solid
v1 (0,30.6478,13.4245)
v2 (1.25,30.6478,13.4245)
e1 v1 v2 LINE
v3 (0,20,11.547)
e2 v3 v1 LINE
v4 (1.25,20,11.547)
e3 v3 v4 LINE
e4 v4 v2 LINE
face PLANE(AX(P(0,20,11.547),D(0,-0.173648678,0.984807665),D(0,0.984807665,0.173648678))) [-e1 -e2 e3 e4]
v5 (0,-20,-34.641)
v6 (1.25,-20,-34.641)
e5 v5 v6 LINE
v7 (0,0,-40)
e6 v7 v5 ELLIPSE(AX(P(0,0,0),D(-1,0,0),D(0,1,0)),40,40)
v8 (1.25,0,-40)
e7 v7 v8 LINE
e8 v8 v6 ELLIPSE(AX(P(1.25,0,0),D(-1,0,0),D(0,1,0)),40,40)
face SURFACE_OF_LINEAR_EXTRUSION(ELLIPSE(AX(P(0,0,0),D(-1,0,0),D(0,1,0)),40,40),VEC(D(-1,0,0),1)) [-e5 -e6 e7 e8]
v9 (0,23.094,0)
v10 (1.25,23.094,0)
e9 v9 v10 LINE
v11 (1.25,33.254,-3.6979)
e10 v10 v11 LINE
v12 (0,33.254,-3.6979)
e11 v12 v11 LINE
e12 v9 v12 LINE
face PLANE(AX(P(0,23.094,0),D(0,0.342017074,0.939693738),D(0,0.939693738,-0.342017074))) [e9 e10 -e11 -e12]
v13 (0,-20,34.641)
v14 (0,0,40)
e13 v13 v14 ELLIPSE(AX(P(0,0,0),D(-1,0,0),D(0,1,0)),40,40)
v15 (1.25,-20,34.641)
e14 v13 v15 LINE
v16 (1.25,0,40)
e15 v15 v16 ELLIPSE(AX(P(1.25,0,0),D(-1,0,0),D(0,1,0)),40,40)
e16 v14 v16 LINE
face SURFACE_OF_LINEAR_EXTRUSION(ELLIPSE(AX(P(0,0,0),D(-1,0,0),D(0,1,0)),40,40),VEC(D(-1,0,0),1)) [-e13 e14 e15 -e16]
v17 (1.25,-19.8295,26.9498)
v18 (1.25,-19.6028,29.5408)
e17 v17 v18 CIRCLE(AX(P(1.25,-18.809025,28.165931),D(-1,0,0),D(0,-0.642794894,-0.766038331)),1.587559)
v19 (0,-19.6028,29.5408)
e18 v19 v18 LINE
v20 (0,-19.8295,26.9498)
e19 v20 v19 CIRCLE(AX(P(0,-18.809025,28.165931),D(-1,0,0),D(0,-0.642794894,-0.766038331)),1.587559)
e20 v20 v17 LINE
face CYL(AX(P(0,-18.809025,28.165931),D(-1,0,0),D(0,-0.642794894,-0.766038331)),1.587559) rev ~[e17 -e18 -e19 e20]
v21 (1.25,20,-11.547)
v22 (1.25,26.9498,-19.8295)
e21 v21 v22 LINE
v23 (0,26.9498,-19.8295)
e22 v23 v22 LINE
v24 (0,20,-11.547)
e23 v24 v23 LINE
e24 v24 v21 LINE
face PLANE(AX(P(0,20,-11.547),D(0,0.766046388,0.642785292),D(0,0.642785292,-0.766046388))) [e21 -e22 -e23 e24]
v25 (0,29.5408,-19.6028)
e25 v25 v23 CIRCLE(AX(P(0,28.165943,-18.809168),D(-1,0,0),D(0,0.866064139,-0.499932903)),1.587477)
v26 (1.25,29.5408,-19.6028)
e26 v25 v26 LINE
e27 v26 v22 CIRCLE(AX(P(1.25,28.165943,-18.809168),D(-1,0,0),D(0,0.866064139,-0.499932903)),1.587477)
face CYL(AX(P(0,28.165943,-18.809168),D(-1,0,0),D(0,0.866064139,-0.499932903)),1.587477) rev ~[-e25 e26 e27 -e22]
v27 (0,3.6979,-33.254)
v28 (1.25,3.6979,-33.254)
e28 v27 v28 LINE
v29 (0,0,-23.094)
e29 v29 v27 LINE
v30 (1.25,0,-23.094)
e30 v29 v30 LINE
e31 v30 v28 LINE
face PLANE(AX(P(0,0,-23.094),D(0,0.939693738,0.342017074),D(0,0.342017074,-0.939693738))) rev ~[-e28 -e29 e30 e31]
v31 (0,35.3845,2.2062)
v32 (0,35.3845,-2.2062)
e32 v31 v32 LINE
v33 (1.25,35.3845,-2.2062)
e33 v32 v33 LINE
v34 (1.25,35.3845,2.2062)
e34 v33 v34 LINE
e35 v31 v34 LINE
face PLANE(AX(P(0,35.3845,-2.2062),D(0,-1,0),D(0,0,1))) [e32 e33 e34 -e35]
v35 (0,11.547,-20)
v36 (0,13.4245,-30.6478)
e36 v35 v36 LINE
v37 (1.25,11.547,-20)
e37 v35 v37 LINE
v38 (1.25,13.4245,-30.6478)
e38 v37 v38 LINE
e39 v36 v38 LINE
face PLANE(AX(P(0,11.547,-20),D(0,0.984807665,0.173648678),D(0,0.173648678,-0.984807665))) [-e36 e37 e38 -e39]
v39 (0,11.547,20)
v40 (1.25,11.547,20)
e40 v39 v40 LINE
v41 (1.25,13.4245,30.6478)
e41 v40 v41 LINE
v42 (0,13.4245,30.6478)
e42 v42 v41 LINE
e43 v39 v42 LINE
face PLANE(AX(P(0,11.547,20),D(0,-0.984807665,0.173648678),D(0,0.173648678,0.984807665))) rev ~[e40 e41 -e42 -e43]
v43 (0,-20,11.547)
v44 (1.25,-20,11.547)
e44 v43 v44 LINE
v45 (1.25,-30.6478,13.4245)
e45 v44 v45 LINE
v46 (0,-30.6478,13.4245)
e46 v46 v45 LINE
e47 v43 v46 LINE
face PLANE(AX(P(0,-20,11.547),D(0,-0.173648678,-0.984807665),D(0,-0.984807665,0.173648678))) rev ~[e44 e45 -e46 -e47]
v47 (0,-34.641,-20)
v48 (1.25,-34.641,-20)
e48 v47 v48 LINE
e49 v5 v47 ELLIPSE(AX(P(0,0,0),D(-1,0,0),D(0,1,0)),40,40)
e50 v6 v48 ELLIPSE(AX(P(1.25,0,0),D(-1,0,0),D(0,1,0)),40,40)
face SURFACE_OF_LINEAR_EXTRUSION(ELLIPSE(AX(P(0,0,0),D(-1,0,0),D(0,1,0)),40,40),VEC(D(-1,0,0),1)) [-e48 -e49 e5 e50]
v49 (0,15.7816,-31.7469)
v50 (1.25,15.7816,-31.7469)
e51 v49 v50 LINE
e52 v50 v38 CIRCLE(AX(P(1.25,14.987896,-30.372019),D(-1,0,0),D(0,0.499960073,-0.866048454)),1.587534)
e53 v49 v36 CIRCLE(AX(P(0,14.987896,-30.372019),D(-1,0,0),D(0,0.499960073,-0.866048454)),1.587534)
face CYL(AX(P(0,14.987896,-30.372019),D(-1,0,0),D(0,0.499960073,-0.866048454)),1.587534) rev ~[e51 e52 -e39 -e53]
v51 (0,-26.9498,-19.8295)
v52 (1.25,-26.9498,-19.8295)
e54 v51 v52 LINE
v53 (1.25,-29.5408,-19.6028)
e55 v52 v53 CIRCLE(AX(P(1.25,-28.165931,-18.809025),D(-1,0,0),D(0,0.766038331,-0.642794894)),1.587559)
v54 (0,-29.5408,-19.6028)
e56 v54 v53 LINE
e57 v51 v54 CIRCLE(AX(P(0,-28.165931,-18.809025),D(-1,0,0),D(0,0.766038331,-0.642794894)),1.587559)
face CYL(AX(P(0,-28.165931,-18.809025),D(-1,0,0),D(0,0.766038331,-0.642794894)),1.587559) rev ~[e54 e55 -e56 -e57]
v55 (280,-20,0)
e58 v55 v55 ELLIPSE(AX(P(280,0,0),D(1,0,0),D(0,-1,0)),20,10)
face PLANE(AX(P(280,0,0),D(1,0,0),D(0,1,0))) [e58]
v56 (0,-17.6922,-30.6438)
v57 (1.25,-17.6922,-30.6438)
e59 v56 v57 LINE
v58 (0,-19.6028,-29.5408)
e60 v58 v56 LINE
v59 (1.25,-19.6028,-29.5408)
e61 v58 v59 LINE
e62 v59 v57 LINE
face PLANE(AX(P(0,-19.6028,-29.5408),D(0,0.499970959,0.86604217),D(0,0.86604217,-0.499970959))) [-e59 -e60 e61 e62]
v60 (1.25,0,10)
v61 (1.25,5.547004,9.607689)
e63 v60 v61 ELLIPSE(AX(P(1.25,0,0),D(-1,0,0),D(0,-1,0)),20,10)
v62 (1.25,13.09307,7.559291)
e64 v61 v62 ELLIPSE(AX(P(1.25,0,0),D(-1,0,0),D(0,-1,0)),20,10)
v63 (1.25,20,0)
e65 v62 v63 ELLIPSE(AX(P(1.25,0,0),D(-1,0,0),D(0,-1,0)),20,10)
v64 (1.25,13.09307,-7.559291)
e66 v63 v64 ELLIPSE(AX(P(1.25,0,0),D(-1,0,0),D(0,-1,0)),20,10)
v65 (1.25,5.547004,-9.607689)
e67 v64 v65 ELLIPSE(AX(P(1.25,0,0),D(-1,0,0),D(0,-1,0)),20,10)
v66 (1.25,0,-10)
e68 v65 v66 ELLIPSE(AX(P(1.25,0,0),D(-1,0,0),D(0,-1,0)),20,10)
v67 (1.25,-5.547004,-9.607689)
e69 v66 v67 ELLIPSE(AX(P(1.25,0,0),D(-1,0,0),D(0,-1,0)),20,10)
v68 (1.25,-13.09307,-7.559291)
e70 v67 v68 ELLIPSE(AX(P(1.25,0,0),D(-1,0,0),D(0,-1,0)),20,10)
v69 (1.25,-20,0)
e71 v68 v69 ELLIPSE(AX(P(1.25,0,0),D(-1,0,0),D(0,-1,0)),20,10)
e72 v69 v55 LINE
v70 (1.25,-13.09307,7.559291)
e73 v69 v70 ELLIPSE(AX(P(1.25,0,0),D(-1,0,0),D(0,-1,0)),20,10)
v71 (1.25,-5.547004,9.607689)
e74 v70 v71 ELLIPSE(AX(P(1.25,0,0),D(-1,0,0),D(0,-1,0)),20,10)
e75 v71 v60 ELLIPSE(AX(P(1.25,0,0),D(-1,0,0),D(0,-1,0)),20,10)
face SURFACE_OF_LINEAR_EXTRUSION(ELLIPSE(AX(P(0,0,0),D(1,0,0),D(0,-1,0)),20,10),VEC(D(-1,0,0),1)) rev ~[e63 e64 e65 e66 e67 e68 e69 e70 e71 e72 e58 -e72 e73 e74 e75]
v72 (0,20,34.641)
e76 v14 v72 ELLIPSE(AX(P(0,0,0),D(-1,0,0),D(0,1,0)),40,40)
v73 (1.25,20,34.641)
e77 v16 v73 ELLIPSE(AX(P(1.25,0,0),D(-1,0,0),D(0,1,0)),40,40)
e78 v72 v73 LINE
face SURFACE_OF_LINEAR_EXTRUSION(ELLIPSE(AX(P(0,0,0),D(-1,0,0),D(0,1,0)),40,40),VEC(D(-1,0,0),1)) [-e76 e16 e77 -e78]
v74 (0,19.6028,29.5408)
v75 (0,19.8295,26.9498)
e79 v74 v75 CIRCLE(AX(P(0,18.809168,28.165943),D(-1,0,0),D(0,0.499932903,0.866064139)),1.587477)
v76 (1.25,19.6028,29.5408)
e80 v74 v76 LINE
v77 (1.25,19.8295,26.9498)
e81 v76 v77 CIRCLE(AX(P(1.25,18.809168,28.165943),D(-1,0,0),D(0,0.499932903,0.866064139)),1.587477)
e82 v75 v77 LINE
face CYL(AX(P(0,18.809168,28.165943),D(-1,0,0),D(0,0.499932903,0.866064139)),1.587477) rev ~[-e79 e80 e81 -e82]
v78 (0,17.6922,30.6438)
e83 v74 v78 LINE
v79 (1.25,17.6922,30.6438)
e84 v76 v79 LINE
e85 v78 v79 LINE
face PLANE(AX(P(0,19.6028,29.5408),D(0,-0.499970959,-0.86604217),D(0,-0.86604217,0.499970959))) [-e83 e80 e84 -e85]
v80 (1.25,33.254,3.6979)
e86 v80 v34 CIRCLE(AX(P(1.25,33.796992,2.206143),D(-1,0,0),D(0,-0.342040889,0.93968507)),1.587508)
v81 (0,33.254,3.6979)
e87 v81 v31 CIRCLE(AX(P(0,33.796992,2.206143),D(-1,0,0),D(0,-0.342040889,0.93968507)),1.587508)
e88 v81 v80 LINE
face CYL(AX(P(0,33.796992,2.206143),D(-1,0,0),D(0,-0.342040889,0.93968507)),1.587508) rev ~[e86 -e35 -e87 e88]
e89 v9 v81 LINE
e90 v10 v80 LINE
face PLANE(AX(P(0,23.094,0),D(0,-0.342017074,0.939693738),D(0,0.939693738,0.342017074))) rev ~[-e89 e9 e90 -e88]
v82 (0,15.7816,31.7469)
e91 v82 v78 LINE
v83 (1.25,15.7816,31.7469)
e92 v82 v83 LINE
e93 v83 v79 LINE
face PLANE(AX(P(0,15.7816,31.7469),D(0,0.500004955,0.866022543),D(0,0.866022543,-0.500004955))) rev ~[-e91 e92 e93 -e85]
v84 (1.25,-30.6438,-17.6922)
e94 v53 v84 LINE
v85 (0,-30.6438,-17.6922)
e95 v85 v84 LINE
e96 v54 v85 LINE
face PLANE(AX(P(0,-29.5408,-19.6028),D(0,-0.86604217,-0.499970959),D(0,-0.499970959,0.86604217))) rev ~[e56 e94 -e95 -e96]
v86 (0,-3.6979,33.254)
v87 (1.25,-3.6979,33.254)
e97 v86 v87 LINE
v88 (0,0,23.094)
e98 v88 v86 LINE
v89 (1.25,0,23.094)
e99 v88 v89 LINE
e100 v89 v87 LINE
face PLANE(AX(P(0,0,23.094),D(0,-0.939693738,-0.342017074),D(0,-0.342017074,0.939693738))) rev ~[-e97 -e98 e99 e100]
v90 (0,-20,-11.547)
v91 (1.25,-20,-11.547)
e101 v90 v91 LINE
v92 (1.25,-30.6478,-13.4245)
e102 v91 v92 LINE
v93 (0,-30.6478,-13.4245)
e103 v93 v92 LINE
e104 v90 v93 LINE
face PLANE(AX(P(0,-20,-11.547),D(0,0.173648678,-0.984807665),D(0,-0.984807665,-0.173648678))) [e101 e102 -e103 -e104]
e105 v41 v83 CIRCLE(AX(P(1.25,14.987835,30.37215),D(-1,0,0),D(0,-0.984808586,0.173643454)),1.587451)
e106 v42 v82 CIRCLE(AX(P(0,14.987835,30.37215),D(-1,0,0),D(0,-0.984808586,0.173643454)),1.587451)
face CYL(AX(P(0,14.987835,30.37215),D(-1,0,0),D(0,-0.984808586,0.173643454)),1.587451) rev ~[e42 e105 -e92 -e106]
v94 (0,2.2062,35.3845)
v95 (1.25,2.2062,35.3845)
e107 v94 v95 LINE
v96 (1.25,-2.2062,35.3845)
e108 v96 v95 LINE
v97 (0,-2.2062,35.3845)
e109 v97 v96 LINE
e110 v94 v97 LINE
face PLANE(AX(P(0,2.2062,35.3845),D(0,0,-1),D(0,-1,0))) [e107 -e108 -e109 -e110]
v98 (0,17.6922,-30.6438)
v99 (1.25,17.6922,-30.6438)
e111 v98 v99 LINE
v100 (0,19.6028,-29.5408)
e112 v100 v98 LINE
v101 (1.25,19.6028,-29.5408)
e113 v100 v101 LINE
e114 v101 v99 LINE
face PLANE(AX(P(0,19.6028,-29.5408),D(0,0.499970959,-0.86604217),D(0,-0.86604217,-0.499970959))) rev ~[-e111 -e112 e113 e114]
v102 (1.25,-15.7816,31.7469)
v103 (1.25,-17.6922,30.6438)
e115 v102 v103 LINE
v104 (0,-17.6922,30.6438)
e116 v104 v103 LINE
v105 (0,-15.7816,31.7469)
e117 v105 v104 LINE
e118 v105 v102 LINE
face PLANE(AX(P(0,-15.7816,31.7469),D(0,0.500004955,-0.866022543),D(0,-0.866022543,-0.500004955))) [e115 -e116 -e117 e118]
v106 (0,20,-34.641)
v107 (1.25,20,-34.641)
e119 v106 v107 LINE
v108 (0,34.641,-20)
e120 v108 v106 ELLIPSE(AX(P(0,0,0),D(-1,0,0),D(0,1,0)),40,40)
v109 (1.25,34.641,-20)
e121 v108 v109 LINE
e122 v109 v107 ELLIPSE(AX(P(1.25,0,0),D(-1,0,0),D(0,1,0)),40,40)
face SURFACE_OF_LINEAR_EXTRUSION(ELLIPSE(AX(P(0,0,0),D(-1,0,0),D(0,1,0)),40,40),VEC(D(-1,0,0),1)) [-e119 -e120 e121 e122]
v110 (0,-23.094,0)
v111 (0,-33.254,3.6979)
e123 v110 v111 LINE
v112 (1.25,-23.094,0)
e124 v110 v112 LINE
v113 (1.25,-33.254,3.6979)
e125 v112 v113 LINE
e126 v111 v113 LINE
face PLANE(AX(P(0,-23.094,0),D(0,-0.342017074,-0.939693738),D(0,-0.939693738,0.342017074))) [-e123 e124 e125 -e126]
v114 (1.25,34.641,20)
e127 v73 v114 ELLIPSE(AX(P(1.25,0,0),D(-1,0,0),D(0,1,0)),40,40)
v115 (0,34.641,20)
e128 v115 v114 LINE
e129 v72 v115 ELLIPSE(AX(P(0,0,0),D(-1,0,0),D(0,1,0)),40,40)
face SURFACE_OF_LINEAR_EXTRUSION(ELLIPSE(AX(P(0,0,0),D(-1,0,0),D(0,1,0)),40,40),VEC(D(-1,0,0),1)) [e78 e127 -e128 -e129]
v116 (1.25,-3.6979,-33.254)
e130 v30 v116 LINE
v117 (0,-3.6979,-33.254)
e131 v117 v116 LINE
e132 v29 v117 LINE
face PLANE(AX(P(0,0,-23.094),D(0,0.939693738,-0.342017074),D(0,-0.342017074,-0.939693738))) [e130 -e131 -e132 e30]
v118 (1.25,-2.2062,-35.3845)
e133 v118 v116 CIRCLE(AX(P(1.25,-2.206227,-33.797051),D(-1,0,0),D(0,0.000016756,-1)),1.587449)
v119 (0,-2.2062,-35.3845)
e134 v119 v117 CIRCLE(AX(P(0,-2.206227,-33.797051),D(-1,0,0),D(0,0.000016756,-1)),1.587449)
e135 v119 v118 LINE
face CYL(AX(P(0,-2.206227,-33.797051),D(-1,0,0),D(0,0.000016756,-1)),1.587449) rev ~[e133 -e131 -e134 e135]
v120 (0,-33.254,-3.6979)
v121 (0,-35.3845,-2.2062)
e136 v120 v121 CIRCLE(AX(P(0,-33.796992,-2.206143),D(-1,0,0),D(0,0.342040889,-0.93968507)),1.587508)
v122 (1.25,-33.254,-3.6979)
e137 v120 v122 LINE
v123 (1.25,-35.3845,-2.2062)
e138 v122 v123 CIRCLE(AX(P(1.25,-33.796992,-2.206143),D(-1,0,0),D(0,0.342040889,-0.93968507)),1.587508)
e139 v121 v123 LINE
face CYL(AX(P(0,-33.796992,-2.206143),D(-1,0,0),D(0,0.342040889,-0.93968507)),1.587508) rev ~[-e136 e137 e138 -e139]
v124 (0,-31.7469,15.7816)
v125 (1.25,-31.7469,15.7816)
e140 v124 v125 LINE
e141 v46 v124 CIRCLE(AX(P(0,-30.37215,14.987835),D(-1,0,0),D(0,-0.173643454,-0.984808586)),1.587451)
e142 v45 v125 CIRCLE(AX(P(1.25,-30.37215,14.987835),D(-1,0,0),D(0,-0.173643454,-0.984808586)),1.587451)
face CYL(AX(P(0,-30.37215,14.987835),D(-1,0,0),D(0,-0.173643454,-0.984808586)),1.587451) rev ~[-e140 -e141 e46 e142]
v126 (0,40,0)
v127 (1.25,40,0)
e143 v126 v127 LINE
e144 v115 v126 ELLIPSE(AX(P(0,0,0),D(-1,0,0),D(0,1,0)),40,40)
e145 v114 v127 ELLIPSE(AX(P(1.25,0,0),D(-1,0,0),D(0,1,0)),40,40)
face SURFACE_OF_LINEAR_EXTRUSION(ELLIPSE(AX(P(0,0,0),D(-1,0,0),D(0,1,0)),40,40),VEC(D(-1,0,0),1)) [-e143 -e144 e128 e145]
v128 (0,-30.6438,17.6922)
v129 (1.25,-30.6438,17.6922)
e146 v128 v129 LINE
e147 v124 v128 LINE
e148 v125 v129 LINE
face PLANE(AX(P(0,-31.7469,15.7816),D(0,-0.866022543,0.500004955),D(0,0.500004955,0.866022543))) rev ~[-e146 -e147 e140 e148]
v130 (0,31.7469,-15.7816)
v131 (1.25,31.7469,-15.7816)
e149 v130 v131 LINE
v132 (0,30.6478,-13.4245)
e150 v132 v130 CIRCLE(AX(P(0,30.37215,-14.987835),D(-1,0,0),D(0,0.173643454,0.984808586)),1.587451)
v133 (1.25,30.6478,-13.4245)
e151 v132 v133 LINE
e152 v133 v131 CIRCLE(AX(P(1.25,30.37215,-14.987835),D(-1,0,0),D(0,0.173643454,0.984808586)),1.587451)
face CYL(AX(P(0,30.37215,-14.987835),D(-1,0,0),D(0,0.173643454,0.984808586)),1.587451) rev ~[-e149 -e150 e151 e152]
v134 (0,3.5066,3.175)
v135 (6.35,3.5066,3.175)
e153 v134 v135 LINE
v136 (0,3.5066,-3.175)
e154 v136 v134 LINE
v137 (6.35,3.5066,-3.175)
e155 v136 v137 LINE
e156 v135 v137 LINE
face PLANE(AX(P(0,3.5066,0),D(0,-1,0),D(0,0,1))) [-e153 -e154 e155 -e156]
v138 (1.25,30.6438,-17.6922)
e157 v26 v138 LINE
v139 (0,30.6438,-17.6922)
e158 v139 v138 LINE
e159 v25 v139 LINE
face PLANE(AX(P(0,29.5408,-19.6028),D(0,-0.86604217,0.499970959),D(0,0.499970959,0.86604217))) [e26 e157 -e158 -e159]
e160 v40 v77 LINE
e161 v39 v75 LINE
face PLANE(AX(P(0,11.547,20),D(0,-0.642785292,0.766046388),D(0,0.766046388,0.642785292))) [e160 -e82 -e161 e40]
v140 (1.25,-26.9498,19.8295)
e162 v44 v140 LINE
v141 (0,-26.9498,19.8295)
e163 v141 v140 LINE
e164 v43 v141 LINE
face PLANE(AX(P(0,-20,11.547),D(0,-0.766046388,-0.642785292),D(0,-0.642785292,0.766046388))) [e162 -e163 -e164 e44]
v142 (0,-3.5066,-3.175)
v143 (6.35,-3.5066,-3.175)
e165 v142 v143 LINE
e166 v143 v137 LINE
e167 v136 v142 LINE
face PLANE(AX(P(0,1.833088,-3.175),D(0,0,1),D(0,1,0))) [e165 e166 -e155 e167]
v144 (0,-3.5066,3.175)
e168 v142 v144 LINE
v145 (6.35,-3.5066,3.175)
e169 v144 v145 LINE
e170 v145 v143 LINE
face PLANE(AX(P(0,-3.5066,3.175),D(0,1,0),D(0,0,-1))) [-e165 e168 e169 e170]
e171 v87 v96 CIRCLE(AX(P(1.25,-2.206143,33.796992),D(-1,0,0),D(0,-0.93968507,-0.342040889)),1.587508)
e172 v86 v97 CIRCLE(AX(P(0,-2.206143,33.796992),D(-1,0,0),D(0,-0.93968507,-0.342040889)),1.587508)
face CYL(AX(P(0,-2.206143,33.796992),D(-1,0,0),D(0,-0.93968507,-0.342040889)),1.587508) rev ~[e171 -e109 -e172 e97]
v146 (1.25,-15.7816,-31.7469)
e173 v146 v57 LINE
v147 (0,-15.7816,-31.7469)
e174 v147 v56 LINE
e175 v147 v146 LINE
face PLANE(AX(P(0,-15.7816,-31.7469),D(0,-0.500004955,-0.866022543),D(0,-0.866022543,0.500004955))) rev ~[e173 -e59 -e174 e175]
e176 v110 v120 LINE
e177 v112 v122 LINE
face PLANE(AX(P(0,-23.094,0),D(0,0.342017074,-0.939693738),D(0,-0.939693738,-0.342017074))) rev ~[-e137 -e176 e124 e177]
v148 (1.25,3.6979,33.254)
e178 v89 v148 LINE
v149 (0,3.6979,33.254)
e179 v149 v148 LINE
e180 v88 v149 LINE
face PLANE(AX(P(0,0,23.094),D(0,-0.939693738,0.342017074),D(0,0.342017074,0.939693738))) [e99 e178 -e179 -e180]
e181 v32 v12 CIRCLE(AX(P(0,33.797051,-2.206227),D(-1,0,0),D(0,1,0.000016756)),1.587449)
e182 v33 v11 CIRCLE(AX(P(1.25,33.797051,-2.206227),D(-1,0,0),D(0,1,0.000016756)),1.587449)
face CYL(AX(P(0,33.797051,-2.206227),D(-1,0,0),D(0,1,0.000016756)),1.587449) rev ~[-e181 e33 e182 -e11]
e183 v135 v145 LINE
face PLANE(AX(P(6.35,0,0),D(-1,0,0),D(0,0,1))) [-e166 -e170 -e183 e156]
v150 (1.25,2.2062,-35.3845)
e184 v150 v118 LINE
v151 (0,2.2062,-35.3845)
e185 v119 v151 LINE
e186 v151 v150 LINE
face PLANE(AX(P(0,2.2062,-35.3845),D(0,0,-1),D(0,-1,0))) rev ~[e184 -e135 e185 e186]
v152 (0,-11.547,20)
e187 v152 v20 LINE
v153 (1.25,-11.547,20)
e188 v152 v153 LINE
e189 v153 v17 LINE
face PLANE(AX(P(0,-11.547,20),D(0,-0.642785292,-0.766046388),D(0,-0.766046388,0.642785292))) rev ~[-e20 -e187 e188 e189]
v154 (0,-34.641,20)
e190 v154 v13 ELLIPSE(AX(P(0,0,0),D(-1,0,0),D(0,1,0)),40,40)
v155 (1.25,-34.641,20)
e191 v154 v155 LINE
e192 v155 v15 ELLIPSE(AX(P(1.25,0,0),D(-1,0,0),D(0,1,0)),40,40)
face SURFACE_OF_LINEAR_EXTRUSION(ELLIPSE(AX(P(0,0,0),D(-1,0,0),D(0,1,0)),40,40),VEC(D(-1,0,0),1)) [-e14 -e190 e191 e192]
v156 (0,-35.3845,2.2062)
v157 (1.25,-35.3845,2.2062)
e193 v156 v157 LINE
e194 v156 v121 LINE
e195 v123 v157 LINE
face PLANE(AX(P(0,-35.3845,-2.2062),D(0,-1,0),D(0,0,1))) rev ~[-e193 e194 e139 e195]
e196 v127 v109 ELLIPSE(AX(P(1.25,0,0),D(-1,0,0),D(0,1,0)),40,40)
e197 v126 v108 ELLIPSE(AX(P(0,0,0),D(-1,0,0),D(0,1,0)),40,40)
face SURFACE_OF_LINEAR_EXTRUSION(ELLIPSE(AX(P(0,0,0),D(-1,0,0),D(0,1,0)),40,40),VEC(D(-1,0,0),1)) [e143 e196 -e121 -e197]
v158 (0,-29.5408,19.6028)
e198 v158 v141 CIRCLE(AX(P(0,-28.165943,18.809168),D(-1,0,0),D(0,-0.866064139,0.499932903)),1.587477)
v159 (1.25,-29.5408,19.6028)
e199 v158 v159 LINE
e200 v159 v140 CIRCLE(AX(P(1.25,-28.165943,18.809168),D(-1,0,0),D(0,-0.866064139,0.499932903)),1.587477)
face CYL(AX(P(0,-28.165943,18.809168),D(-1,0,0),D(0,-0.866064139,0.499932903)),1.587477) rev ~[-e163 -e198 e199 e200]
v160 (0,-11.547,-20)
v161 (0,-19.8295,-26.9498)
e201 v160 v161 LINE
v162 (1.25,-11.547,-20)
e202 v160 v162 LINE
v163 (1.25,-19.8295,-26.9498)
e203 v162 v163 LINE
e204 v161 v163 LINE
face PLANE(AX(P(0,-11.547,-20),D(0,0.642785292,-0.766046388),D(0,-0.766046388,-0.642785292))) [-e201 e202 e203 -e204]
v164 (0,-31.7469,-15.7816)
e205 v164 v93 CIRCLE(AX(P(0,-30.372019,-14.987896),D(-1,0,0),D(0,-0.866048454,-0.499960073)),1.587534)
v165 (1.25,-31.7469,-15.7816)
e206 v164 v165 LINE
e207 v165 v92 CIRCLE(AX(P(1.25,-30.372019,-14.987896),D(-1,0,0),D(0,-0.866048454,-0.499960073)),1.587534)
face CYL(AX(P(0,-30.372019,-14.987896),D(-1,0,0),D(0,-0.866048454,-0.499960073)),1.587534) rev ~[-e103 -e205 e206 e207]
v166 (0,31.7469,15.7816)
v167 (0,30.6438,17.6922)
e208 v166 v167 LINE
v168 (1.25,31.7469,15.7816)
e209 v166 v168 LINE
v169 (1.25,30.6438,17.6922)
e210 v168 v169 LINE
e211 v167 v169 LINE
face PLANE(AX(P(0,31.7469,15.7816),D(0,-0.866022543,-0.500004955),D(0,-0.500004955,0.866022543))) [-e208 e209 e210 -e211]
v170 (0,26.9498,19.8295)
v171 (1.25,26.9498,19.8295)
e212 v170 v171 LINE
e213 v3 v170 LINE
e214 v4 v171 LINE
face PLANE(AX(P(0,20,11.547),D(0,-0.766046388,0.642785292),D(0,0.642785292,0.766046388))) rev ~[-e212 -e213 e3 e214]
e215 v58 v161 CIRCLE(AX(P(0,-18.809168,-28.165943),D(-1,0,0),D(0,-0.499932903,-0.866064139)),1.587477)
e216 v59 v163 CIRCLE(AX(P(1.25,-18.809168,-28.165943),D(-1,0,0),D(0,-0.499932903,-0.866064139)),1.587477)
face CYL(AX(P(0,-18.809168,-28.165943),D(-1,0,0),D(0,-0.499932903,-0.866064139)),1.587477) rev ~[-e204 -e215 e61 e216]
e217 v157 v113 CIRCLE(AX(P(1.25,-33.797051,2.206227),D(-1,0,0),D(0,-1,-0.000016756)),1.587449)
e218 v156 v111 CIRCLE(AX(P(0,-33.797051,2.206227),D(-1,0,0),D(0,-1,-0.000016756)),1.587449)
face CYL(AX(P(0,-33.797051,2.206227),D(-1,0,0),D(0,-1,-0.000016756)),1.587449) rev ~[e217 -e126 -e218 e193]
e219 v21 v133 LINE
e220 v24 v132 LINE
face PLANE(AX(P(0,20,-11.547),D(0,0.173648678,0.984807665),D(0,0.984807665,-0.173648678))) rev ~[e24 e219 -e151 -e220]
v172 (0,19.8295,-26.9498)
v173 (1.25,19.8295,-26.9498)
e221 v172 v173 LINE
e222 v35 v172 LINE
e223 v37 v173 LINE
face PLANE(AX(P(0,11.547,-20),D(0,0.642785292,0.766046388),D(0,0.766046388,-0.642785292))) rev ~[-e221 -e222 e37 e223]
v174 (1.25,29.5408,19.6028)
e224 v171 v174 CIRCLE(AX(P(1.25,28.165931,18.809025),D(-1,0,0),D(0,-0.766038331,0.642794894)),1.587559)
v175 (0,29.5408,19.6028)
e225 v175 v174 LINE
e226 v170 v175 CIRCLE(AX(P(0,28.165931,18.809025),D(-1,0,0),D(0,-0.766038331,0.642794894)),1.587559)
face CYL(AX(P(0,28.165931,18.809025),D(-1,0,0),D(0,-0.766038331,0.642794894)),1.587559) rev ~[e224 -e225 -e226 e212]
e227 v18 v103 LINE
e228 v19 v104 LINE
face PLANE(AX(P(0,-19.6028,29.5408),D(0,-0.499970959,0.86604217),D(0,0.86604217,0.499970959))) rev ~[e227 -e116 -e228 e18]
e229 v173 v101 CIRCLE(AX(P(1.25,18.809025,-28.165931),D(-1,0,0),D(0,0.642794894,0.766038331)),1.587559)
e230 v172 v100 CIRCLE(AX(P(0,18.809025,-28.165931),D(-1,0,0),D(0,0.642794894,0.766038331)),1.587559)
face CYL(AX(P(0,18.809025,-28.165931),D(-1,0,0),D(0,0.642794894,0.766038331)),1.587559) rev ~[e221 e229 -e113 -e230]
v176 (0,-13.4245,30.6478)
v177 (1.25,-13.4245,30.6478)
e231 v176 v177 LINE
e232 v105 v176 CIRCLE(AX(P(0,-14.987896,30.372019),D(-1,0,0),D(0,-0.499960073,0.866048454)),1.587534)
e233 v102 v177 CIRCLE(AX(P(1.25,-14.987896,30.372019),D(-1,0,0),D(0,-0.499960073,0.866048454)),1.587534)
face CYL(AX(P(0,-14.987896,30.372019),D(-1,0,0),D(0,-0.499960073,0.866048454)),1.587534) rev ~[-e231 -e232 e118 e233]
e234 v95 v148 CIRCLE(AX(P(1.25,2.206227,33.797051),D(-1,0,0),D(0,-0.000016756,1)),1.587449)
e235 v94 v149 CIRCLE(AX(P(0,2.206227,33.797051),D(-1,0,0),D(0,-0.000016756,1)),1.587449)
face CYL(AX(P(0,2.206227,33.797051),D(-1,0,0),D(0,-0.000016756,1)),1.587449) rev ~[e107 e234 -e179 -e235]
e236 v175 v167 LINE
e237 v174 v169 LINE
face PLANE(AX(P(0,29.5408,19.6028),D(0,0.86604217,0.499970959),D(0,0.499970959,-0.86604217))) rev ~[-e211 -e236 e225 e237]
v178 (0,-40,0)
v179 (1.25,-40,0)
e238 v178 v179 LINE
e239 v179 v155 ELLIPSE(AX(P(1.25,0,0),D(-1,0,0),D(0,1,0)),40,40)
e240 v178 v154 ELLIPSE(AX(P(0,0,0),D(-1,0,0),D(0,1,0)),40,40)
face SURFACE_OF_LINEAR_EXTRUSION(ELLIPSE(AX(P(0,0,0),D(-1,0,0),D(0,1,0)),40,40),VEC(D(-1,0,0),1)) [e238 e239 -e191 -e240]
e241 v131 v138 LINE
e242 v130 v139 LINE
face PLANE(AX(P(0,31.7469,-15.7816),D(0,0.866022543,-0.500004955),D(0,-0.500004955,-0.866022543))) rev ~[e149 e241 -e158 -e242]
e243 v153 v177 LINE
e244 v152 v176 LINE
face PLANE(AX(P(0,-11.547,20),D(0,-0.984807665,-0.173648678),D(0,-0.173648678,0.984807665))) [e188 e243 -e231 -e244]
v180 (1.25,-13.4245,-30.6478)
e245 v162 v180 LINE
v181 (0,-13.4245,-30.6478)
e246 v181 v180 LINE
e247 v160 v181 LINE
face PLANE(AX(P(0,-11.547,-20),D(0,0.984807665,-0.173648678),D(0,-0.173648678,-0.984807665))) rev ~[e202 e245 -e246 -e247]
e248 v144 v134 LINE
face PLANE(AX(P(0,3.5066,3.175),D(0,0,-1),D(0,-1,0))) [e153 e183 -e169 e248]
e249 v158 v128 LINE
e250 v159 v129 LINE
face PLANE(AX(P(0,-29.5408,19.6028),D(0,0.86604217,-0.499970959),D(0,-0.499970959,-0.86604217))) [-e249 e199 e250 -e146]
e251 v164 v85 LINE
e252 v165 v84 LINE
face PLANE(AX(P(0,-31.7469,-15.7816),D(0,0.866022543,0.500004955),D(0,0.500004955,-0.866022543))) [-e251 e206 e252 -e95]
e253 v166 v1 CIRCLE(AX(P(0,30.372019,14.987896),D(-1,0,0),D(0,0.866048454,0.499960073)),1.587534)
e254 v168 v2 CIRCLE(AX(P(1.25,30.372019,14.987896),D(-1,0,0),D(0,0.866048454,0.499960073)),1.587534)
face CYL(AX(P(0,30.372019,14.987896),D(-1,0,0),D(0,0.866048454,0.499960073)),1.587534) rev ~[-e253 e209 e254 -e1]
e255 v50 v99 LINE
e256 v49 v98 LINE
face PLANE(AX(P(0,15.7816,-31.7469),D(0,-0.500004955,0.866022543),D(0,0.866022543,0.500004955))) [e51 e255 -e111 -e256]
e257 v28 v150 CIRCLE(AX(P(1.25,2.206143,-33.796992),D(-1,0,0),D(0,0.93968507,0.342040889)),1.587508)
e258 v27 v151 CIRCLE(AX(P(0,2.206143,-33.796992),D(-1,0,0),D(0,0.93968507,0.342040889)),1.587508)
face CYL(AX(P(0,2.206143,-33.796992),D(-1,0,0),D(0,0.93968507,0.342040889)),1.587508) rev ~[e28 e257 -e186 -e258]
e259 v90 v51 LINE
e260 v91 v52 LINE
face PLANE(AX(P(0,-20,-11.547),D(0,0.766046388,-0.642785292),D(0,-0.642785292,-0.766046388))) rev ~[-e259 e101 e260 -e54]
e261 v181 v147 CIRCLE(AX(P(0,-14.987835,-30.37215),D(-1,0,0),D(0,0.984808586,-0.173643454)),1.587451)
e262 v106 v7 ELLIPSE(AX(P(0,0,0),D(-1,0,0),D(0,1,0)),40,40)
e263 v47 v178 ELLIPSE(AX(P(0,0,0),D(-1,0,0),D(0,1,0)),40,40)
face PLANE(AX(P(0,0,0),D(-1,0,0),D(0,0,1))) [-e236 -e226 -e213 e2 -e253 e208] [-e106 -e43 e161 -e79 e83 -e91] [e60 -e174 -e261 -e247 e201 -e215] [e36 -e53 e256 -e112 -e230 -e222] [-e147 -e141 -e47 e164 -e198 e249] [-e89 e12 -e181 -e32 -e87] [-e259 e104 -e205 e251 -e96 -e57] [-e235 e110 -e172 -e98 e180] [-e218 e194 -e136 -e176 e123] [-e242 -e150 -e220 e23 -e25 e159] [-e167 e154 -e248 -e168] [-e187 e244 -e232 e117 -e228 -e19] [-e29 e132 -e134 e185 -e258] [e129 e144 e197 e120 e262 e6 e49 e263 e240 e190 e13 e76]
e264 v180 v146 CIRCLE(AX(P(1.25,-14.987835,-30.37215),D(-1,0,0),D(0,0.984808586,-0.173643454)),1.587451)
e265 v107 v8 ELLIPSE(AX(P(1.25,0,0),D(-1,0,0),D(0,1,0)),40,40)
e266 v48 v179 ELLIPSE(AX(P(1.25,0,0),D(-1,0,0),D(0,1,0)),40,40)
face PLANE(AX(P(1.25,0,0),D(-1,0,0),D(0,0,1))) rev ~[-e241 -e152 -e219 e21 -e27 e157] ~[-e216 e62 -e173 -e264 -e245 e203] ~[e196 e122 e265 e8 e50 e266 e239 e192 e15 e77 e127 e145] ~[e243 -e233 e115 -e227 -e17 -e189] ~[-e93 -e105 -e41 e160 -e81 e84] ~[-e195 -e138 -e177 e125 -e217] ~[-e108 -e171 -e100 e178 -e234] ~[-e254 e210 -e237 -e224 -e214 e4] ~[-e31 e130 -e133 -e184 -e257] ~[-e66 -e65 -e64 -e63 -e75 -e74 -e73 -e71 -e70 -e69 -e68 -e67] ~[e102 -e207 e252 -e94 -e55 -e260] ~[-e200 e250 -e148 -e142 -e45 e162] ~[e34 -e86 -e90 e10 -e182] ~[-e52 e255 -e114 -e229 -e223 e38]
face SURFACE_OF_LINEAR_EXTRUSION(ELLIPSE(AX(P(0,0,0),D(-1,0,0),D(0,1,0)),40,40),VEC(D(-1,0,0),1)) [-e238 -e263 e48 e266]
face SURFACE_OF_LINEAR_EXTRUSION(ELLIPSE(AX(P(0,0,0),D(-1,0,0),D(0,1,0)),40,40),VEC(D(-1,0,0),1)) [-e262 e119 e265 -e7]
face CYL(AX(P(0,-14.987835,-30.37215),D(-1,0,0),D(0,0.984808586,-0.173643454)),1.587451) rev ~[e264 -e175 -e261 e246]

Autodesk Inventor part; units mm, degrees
ref_plane "YZ Plane" through (0, 0, 0) normal (1, 0, 0) x (0, 1, 0)
ref_plane "XZ Plane" through (0, 0, 0) normal (0, 1, 0) x (-1, 0, 0)
ref_plane "XY Plane" through (0, 0, 0) normal (0, 0, 1) x (1, 0, 0)
sketch "Sketch4" plane through (0, 0, 0) normal (1, 0, 0) x (0, 1, 0)
  ellipse E0 centre (0, 0) end of major axis (-20, 0) minor radius 10
  dimension "d32" = 20
  dimension "d33" = 10
extrude "Extrusion1" add sketch "Sketch4" along normal blind 280
sketch "Sketch5" plane through (0, 0, 0) normal (-1, 0, 0) x (0, 0, 1)
  ellipse E0 centre (0, 0) end of major axis (0, 40) minor radius 40
  ellipse E1 centre (0, 0) end of major axis (0, -20) minor radius 10 projected
  line L0 (0, 0) -> (0, 40)
  line L1 (0, 0) -> (-20, 34.641)
  line L2 (0, 0) -> (-34.641, 20)
  line L3 (0, 0) -> (-40, 0)
  line L4 (0, 0) -> (-34.641, -20)
  line L5 (0, 0) -> (-20, -34.641)
  line L6 (0, 0) -> (0, -40)
  line L7 (0, 0) -> (20, -34.641)
  line L8 (0, 0) -> (34.641, -20)
  line L9 (0, 0) -> (40, 0)
  line L10 (0, 0) -> (34.641, 20)
  line L11 (0, 0) -> (20, 34.641)
  line L12 (0, 23.094) -> (3.6979, 33.254)
  line L13 (2.2062, 35.3845) -> (0, 35.3845)
  arc A0 (3.6979, 33.254) -> (2.2062, 35.3845) centre (2.2062, 33.797) ccw
  line L14 (0, 23.094) -> (-3.6979, 33.254)
  line L15 (-2.2062, 35.3845) -> (0, 35.3845)
  arc A1 (-2.2062, 35.3845) -> (-3.6979, 33.254) centre (-2.2062, 33.797) ccw
  line L16 (-15.7816, 31.7469) -> (-17.6922, 30.6438)
  line L17 (-19.6028, 29.5408) -> (-17.6922, 30.6438)
  arc A2 (-19.6028, 29.5408) -> (-19.8295, 26.9498) centre (-18.8091, 28.1659) ccw
  line L18 (-11.547, 20) -> (-19.8295, 26.9498)
  line L19 (-11.547, 20) -> (-13.4245, 30.6478)
  arc A3 (-13.4245, 30.6478) -> (-15.7816, 31.7469) centre (-14.9879, 30.3721) ccw
  line L20 (-29.5408, 19.6028) -> (-30.6438, 17.6922)
  line L21 (-31.7469, 15.7816) -> (-30.6438, 17.6922)
  arc A4 (-31.7469, 15.7816) -> (-30.6478, 13.4245) centre (-30.3721, 14.9879) ccw
  line L22 (-20, 11.547) -> (-30.6478, 13.4245)
  line L23 (-20, 11.547) -> (-26.9498, 19.8295)
  arc A5 (-26.9498, 19.8295) -> (-29.5408, 19.6028) centre (-28.1659, 18.8091) ccw
  line L24 (-35.3845, 2.2062) -> (-35.3845, 0)
  line L25 (-35.3845, -2.2062) -> (-35.3845, 0)
  arc A6 (-35.3845, -2.2062) -> (-33.254, -3.6979) centre (-33.797, -2.2062) ccw
  line L26 (-23.094, 0) -> (-33.254, -3.6979)
  line L27 (-23.094, 0) -> (-33.254, 3.6979)
  arc A7 (-33.254, 3.6979) -> (-35.3845, 2.2062) centre (-33.797, 2.2062) ccw
  line L28 (-31.7469, -15.7816) -> (-30.6438, -17.6922)
  line L29 (-29.5408, -19.6028) -> (-30.6438, -17.6922)
  arc A8 (-29.5408, -19.6028) -> (-26.9498, -19.8295) centre (-28.1659, -18.8091) ccw
  line L30 (-20, -11.547) -> (-26.9498, -19.8295)
  line L31 (-20, -11.547) -> (-30.6478, -13.4245)
  arc A9 (-30.6478, -13.4245) -> (-31.7469, -15.7816) centre (-30.3721, -14.9879) ccw
  line L32 (-19.6028, -29.5408) -> (-17.6922, -30.6438)
  line L33 (-15.7816, -31.7469) -> (-17.6922, -30.6438)
  arc A10 (-15.7816, -31.7469) -> (-13.4245, -30.6478) centre (-14.9879, -30.3721) ccw
  line L34 (-11.547, -20) -> (-13.4245, -30.6478)
  line L35 (-11.547, -20) -> (-19.8295, -26.9498)
  arc A11 (-19.8295, -26.9498) -> (-19.6028, -29.5408) centre (-18.8091, -28.1659) ccw
  line L36 (-2.2062, -35.3845) -> (0, -35.3845)
  line L37 (2.2062, -35.3845) -> (0, -35.3845)
  arc A12 (2.2062, -35.3845) -> (3.6979, -33.254) centre (2.2062, -33.797) ccw
  line L38 (0, -23.094) -> (3.6979, -33.254)
  line L39 (0, -23.094) -> (-3.6979, -33.254)
  arc A13 (-3.6979, -33.254) -> (-2.2062, -35.3845) centre (-2.2062, -33.797) ccw
  line L40 (15.7816, -31.7469) -> (17.6922, -30.6438)
  line L41 (19.6028, -29.5408) -> (17.6922, -30.6438)
  arc A14 (19.6028, -29.5408) -> (19.8295, -26.9498) centre (18.8091, -28.1659) ccw
  line L42 (11.547, -20) -> (19.8295, -26.9498)
  line L43 (11.547, -20) -> (13.4245, -30.6478)
  arc A15 (13.4245, -30.6478) -> (15.7816, -31.7469) centre (14.9879, -30.3721) ccw
  line L44 (29.5408, -19.6028) -> (30.6438, -17.6922)
  line L45 (31.7469, -15.7816) -> (30.6438, -17.6922)
  arc A16 (31.7469, -15.7816) -> (30.6478, -13.4245) centre (30.3721, -14.9879) ccw
  line L46 (20, -11.547) -> (30.6478, -13.4245)
  line L47 (20, -11.547) -> (26.9498, -19.8295)
  arc A17 (26.9498, -19.8295) -> (29.5408, -19.6028) centre (28.1659, -18.8091) ccw
  line L48 (35.3845, -2.2062) -> (35.3845, 0)
  line L49 (35.3845, 2.2062) -> (35.3845, 0)
  arc A18 (35.3845, 2.2062) -> (33.254, 3.6979) centre (33.797, 2.2062) ccw
  line L50 (23.094, 0) -> (33.254, 3.6979)
  line L51 (23.094, 0) -> (33.254, -3.6979)
  arc A19 (33.254, -3.6979) -> (35.3845, -2.2062) centre (33.797, -2.2062) ccw
  line L52 (31.7469, 15.7816) -> (30.6438, 17.6922)
  line L53 (29.5408, 19.6028) -> (30.6438, 17.6922)
  arc A20 (29.5408, 19.6028) -> (26.9498, 19.8295) centre (28.1659, 18.8091) ccw
  line L54 (20, 11.547) -> (26.9498, 19.8295)
  line L55 (20, 11.547) -> (30.6478, 13.4245)
  arc A21 (30.6478, 13.4245) -> (31.7469, 15.7816) centre (30.3721, 14.9879) ccw
  line L56 (19.6028, 29.5408) -> (17.6922, 30.6438)
  line L57 (15.7816, 31.7469) -> (17.6922, 30.6438)
  arc A22 (15.7816, 31.7469) -> (13.4245, 30.6478) centre (14.9879, 30.3721) ccw
  line L58 (11.547, 20) -> (13.4245, 30.6478)
  line L59 (11.547, 20) -> (19.8295, 26.9498)
  arc A23 (19.8295, 26.9498) -> (19.6028, 29.5408) centre (18.8091, 28.1659) ccw
  line L60 (-3.175, 3.5066) -> (3.175, 3.5066)
  line L61 (3.175, 3.5066) -> (3.175, -3.5066)
  line L62 (3.175, -3.5066) -> (-3.175, -3.5066)
  line L63 (-3.175, -3.5066) -> (-3.175, 3.5066)
  line L64 (-3.175, 3.5066) -> (3.175, -3.5066) construction
  line L65 (3.175, 3.5066) -> (-3.175, -3.5066) construction
  dimension "d36" = 40
  dimension "d40" = 40
  dimension "d43" = 360
  dimension "d45" = 1.5875
  dimension "d46" = 10.16
  dimension "d47" = 20
  dimension "d50" = 360
  dimension "d52" = 6.35
extrude "Extrusion2" add sketch "Sketch5" against normal blind 1.25 contours L0 L15 A1 L14 E1 L1 L19 A3 L16 E0 | E0 L11 L57 A22 L58 E1 L0 L12 A0 L13 | L1 L17 A2 L18 E1 L2 L23 A5 L20 E0 | E0 L10 L53 A20 L54 E1 L11 L59 A23 L56 | L2 L21 A4 L22 E1 L3 L27 A7 L24 E0 | E0 L9 L49 A18 L50 E1 L10 L55 A21 L52 | L3 L25 A6 L26 E1 L4 L31 A9 L28 E0 | E0 L8 L45 A16 L46 E1 L9 L51 A19 L48 | L4 L29 A8 L30 E1 L5 L35 A11 L32 E0 | E0 L7 L41 A14 L42 E1 L8 L47 A17 L44 | L5 L33 A10 L34 E1 L6 L39 A13 L36 E0 | E0 L6 L37 A12 L38 E1 L7 L43 A15 L40
extrude "Extrusion3" cut sketch "Sketch5" against normal blind 6.35 contours L60 L11 L0 | L0 L1 L60 | L1 L2 L63 L60 | L60 L61 L10 L11 | L3 L63 L2 | L4 L63 L3 | L5 L62 L63 L4 | L6 L62 L5 | L7 L62 L6 | L8 L61 L62 L7 | L9 L61 L8 | L10 L61 L9
equation "\"d33\" = 0.5 * d32"
equation "\"d36\" = d40"
properties part number "tanjiro's sword hold"
